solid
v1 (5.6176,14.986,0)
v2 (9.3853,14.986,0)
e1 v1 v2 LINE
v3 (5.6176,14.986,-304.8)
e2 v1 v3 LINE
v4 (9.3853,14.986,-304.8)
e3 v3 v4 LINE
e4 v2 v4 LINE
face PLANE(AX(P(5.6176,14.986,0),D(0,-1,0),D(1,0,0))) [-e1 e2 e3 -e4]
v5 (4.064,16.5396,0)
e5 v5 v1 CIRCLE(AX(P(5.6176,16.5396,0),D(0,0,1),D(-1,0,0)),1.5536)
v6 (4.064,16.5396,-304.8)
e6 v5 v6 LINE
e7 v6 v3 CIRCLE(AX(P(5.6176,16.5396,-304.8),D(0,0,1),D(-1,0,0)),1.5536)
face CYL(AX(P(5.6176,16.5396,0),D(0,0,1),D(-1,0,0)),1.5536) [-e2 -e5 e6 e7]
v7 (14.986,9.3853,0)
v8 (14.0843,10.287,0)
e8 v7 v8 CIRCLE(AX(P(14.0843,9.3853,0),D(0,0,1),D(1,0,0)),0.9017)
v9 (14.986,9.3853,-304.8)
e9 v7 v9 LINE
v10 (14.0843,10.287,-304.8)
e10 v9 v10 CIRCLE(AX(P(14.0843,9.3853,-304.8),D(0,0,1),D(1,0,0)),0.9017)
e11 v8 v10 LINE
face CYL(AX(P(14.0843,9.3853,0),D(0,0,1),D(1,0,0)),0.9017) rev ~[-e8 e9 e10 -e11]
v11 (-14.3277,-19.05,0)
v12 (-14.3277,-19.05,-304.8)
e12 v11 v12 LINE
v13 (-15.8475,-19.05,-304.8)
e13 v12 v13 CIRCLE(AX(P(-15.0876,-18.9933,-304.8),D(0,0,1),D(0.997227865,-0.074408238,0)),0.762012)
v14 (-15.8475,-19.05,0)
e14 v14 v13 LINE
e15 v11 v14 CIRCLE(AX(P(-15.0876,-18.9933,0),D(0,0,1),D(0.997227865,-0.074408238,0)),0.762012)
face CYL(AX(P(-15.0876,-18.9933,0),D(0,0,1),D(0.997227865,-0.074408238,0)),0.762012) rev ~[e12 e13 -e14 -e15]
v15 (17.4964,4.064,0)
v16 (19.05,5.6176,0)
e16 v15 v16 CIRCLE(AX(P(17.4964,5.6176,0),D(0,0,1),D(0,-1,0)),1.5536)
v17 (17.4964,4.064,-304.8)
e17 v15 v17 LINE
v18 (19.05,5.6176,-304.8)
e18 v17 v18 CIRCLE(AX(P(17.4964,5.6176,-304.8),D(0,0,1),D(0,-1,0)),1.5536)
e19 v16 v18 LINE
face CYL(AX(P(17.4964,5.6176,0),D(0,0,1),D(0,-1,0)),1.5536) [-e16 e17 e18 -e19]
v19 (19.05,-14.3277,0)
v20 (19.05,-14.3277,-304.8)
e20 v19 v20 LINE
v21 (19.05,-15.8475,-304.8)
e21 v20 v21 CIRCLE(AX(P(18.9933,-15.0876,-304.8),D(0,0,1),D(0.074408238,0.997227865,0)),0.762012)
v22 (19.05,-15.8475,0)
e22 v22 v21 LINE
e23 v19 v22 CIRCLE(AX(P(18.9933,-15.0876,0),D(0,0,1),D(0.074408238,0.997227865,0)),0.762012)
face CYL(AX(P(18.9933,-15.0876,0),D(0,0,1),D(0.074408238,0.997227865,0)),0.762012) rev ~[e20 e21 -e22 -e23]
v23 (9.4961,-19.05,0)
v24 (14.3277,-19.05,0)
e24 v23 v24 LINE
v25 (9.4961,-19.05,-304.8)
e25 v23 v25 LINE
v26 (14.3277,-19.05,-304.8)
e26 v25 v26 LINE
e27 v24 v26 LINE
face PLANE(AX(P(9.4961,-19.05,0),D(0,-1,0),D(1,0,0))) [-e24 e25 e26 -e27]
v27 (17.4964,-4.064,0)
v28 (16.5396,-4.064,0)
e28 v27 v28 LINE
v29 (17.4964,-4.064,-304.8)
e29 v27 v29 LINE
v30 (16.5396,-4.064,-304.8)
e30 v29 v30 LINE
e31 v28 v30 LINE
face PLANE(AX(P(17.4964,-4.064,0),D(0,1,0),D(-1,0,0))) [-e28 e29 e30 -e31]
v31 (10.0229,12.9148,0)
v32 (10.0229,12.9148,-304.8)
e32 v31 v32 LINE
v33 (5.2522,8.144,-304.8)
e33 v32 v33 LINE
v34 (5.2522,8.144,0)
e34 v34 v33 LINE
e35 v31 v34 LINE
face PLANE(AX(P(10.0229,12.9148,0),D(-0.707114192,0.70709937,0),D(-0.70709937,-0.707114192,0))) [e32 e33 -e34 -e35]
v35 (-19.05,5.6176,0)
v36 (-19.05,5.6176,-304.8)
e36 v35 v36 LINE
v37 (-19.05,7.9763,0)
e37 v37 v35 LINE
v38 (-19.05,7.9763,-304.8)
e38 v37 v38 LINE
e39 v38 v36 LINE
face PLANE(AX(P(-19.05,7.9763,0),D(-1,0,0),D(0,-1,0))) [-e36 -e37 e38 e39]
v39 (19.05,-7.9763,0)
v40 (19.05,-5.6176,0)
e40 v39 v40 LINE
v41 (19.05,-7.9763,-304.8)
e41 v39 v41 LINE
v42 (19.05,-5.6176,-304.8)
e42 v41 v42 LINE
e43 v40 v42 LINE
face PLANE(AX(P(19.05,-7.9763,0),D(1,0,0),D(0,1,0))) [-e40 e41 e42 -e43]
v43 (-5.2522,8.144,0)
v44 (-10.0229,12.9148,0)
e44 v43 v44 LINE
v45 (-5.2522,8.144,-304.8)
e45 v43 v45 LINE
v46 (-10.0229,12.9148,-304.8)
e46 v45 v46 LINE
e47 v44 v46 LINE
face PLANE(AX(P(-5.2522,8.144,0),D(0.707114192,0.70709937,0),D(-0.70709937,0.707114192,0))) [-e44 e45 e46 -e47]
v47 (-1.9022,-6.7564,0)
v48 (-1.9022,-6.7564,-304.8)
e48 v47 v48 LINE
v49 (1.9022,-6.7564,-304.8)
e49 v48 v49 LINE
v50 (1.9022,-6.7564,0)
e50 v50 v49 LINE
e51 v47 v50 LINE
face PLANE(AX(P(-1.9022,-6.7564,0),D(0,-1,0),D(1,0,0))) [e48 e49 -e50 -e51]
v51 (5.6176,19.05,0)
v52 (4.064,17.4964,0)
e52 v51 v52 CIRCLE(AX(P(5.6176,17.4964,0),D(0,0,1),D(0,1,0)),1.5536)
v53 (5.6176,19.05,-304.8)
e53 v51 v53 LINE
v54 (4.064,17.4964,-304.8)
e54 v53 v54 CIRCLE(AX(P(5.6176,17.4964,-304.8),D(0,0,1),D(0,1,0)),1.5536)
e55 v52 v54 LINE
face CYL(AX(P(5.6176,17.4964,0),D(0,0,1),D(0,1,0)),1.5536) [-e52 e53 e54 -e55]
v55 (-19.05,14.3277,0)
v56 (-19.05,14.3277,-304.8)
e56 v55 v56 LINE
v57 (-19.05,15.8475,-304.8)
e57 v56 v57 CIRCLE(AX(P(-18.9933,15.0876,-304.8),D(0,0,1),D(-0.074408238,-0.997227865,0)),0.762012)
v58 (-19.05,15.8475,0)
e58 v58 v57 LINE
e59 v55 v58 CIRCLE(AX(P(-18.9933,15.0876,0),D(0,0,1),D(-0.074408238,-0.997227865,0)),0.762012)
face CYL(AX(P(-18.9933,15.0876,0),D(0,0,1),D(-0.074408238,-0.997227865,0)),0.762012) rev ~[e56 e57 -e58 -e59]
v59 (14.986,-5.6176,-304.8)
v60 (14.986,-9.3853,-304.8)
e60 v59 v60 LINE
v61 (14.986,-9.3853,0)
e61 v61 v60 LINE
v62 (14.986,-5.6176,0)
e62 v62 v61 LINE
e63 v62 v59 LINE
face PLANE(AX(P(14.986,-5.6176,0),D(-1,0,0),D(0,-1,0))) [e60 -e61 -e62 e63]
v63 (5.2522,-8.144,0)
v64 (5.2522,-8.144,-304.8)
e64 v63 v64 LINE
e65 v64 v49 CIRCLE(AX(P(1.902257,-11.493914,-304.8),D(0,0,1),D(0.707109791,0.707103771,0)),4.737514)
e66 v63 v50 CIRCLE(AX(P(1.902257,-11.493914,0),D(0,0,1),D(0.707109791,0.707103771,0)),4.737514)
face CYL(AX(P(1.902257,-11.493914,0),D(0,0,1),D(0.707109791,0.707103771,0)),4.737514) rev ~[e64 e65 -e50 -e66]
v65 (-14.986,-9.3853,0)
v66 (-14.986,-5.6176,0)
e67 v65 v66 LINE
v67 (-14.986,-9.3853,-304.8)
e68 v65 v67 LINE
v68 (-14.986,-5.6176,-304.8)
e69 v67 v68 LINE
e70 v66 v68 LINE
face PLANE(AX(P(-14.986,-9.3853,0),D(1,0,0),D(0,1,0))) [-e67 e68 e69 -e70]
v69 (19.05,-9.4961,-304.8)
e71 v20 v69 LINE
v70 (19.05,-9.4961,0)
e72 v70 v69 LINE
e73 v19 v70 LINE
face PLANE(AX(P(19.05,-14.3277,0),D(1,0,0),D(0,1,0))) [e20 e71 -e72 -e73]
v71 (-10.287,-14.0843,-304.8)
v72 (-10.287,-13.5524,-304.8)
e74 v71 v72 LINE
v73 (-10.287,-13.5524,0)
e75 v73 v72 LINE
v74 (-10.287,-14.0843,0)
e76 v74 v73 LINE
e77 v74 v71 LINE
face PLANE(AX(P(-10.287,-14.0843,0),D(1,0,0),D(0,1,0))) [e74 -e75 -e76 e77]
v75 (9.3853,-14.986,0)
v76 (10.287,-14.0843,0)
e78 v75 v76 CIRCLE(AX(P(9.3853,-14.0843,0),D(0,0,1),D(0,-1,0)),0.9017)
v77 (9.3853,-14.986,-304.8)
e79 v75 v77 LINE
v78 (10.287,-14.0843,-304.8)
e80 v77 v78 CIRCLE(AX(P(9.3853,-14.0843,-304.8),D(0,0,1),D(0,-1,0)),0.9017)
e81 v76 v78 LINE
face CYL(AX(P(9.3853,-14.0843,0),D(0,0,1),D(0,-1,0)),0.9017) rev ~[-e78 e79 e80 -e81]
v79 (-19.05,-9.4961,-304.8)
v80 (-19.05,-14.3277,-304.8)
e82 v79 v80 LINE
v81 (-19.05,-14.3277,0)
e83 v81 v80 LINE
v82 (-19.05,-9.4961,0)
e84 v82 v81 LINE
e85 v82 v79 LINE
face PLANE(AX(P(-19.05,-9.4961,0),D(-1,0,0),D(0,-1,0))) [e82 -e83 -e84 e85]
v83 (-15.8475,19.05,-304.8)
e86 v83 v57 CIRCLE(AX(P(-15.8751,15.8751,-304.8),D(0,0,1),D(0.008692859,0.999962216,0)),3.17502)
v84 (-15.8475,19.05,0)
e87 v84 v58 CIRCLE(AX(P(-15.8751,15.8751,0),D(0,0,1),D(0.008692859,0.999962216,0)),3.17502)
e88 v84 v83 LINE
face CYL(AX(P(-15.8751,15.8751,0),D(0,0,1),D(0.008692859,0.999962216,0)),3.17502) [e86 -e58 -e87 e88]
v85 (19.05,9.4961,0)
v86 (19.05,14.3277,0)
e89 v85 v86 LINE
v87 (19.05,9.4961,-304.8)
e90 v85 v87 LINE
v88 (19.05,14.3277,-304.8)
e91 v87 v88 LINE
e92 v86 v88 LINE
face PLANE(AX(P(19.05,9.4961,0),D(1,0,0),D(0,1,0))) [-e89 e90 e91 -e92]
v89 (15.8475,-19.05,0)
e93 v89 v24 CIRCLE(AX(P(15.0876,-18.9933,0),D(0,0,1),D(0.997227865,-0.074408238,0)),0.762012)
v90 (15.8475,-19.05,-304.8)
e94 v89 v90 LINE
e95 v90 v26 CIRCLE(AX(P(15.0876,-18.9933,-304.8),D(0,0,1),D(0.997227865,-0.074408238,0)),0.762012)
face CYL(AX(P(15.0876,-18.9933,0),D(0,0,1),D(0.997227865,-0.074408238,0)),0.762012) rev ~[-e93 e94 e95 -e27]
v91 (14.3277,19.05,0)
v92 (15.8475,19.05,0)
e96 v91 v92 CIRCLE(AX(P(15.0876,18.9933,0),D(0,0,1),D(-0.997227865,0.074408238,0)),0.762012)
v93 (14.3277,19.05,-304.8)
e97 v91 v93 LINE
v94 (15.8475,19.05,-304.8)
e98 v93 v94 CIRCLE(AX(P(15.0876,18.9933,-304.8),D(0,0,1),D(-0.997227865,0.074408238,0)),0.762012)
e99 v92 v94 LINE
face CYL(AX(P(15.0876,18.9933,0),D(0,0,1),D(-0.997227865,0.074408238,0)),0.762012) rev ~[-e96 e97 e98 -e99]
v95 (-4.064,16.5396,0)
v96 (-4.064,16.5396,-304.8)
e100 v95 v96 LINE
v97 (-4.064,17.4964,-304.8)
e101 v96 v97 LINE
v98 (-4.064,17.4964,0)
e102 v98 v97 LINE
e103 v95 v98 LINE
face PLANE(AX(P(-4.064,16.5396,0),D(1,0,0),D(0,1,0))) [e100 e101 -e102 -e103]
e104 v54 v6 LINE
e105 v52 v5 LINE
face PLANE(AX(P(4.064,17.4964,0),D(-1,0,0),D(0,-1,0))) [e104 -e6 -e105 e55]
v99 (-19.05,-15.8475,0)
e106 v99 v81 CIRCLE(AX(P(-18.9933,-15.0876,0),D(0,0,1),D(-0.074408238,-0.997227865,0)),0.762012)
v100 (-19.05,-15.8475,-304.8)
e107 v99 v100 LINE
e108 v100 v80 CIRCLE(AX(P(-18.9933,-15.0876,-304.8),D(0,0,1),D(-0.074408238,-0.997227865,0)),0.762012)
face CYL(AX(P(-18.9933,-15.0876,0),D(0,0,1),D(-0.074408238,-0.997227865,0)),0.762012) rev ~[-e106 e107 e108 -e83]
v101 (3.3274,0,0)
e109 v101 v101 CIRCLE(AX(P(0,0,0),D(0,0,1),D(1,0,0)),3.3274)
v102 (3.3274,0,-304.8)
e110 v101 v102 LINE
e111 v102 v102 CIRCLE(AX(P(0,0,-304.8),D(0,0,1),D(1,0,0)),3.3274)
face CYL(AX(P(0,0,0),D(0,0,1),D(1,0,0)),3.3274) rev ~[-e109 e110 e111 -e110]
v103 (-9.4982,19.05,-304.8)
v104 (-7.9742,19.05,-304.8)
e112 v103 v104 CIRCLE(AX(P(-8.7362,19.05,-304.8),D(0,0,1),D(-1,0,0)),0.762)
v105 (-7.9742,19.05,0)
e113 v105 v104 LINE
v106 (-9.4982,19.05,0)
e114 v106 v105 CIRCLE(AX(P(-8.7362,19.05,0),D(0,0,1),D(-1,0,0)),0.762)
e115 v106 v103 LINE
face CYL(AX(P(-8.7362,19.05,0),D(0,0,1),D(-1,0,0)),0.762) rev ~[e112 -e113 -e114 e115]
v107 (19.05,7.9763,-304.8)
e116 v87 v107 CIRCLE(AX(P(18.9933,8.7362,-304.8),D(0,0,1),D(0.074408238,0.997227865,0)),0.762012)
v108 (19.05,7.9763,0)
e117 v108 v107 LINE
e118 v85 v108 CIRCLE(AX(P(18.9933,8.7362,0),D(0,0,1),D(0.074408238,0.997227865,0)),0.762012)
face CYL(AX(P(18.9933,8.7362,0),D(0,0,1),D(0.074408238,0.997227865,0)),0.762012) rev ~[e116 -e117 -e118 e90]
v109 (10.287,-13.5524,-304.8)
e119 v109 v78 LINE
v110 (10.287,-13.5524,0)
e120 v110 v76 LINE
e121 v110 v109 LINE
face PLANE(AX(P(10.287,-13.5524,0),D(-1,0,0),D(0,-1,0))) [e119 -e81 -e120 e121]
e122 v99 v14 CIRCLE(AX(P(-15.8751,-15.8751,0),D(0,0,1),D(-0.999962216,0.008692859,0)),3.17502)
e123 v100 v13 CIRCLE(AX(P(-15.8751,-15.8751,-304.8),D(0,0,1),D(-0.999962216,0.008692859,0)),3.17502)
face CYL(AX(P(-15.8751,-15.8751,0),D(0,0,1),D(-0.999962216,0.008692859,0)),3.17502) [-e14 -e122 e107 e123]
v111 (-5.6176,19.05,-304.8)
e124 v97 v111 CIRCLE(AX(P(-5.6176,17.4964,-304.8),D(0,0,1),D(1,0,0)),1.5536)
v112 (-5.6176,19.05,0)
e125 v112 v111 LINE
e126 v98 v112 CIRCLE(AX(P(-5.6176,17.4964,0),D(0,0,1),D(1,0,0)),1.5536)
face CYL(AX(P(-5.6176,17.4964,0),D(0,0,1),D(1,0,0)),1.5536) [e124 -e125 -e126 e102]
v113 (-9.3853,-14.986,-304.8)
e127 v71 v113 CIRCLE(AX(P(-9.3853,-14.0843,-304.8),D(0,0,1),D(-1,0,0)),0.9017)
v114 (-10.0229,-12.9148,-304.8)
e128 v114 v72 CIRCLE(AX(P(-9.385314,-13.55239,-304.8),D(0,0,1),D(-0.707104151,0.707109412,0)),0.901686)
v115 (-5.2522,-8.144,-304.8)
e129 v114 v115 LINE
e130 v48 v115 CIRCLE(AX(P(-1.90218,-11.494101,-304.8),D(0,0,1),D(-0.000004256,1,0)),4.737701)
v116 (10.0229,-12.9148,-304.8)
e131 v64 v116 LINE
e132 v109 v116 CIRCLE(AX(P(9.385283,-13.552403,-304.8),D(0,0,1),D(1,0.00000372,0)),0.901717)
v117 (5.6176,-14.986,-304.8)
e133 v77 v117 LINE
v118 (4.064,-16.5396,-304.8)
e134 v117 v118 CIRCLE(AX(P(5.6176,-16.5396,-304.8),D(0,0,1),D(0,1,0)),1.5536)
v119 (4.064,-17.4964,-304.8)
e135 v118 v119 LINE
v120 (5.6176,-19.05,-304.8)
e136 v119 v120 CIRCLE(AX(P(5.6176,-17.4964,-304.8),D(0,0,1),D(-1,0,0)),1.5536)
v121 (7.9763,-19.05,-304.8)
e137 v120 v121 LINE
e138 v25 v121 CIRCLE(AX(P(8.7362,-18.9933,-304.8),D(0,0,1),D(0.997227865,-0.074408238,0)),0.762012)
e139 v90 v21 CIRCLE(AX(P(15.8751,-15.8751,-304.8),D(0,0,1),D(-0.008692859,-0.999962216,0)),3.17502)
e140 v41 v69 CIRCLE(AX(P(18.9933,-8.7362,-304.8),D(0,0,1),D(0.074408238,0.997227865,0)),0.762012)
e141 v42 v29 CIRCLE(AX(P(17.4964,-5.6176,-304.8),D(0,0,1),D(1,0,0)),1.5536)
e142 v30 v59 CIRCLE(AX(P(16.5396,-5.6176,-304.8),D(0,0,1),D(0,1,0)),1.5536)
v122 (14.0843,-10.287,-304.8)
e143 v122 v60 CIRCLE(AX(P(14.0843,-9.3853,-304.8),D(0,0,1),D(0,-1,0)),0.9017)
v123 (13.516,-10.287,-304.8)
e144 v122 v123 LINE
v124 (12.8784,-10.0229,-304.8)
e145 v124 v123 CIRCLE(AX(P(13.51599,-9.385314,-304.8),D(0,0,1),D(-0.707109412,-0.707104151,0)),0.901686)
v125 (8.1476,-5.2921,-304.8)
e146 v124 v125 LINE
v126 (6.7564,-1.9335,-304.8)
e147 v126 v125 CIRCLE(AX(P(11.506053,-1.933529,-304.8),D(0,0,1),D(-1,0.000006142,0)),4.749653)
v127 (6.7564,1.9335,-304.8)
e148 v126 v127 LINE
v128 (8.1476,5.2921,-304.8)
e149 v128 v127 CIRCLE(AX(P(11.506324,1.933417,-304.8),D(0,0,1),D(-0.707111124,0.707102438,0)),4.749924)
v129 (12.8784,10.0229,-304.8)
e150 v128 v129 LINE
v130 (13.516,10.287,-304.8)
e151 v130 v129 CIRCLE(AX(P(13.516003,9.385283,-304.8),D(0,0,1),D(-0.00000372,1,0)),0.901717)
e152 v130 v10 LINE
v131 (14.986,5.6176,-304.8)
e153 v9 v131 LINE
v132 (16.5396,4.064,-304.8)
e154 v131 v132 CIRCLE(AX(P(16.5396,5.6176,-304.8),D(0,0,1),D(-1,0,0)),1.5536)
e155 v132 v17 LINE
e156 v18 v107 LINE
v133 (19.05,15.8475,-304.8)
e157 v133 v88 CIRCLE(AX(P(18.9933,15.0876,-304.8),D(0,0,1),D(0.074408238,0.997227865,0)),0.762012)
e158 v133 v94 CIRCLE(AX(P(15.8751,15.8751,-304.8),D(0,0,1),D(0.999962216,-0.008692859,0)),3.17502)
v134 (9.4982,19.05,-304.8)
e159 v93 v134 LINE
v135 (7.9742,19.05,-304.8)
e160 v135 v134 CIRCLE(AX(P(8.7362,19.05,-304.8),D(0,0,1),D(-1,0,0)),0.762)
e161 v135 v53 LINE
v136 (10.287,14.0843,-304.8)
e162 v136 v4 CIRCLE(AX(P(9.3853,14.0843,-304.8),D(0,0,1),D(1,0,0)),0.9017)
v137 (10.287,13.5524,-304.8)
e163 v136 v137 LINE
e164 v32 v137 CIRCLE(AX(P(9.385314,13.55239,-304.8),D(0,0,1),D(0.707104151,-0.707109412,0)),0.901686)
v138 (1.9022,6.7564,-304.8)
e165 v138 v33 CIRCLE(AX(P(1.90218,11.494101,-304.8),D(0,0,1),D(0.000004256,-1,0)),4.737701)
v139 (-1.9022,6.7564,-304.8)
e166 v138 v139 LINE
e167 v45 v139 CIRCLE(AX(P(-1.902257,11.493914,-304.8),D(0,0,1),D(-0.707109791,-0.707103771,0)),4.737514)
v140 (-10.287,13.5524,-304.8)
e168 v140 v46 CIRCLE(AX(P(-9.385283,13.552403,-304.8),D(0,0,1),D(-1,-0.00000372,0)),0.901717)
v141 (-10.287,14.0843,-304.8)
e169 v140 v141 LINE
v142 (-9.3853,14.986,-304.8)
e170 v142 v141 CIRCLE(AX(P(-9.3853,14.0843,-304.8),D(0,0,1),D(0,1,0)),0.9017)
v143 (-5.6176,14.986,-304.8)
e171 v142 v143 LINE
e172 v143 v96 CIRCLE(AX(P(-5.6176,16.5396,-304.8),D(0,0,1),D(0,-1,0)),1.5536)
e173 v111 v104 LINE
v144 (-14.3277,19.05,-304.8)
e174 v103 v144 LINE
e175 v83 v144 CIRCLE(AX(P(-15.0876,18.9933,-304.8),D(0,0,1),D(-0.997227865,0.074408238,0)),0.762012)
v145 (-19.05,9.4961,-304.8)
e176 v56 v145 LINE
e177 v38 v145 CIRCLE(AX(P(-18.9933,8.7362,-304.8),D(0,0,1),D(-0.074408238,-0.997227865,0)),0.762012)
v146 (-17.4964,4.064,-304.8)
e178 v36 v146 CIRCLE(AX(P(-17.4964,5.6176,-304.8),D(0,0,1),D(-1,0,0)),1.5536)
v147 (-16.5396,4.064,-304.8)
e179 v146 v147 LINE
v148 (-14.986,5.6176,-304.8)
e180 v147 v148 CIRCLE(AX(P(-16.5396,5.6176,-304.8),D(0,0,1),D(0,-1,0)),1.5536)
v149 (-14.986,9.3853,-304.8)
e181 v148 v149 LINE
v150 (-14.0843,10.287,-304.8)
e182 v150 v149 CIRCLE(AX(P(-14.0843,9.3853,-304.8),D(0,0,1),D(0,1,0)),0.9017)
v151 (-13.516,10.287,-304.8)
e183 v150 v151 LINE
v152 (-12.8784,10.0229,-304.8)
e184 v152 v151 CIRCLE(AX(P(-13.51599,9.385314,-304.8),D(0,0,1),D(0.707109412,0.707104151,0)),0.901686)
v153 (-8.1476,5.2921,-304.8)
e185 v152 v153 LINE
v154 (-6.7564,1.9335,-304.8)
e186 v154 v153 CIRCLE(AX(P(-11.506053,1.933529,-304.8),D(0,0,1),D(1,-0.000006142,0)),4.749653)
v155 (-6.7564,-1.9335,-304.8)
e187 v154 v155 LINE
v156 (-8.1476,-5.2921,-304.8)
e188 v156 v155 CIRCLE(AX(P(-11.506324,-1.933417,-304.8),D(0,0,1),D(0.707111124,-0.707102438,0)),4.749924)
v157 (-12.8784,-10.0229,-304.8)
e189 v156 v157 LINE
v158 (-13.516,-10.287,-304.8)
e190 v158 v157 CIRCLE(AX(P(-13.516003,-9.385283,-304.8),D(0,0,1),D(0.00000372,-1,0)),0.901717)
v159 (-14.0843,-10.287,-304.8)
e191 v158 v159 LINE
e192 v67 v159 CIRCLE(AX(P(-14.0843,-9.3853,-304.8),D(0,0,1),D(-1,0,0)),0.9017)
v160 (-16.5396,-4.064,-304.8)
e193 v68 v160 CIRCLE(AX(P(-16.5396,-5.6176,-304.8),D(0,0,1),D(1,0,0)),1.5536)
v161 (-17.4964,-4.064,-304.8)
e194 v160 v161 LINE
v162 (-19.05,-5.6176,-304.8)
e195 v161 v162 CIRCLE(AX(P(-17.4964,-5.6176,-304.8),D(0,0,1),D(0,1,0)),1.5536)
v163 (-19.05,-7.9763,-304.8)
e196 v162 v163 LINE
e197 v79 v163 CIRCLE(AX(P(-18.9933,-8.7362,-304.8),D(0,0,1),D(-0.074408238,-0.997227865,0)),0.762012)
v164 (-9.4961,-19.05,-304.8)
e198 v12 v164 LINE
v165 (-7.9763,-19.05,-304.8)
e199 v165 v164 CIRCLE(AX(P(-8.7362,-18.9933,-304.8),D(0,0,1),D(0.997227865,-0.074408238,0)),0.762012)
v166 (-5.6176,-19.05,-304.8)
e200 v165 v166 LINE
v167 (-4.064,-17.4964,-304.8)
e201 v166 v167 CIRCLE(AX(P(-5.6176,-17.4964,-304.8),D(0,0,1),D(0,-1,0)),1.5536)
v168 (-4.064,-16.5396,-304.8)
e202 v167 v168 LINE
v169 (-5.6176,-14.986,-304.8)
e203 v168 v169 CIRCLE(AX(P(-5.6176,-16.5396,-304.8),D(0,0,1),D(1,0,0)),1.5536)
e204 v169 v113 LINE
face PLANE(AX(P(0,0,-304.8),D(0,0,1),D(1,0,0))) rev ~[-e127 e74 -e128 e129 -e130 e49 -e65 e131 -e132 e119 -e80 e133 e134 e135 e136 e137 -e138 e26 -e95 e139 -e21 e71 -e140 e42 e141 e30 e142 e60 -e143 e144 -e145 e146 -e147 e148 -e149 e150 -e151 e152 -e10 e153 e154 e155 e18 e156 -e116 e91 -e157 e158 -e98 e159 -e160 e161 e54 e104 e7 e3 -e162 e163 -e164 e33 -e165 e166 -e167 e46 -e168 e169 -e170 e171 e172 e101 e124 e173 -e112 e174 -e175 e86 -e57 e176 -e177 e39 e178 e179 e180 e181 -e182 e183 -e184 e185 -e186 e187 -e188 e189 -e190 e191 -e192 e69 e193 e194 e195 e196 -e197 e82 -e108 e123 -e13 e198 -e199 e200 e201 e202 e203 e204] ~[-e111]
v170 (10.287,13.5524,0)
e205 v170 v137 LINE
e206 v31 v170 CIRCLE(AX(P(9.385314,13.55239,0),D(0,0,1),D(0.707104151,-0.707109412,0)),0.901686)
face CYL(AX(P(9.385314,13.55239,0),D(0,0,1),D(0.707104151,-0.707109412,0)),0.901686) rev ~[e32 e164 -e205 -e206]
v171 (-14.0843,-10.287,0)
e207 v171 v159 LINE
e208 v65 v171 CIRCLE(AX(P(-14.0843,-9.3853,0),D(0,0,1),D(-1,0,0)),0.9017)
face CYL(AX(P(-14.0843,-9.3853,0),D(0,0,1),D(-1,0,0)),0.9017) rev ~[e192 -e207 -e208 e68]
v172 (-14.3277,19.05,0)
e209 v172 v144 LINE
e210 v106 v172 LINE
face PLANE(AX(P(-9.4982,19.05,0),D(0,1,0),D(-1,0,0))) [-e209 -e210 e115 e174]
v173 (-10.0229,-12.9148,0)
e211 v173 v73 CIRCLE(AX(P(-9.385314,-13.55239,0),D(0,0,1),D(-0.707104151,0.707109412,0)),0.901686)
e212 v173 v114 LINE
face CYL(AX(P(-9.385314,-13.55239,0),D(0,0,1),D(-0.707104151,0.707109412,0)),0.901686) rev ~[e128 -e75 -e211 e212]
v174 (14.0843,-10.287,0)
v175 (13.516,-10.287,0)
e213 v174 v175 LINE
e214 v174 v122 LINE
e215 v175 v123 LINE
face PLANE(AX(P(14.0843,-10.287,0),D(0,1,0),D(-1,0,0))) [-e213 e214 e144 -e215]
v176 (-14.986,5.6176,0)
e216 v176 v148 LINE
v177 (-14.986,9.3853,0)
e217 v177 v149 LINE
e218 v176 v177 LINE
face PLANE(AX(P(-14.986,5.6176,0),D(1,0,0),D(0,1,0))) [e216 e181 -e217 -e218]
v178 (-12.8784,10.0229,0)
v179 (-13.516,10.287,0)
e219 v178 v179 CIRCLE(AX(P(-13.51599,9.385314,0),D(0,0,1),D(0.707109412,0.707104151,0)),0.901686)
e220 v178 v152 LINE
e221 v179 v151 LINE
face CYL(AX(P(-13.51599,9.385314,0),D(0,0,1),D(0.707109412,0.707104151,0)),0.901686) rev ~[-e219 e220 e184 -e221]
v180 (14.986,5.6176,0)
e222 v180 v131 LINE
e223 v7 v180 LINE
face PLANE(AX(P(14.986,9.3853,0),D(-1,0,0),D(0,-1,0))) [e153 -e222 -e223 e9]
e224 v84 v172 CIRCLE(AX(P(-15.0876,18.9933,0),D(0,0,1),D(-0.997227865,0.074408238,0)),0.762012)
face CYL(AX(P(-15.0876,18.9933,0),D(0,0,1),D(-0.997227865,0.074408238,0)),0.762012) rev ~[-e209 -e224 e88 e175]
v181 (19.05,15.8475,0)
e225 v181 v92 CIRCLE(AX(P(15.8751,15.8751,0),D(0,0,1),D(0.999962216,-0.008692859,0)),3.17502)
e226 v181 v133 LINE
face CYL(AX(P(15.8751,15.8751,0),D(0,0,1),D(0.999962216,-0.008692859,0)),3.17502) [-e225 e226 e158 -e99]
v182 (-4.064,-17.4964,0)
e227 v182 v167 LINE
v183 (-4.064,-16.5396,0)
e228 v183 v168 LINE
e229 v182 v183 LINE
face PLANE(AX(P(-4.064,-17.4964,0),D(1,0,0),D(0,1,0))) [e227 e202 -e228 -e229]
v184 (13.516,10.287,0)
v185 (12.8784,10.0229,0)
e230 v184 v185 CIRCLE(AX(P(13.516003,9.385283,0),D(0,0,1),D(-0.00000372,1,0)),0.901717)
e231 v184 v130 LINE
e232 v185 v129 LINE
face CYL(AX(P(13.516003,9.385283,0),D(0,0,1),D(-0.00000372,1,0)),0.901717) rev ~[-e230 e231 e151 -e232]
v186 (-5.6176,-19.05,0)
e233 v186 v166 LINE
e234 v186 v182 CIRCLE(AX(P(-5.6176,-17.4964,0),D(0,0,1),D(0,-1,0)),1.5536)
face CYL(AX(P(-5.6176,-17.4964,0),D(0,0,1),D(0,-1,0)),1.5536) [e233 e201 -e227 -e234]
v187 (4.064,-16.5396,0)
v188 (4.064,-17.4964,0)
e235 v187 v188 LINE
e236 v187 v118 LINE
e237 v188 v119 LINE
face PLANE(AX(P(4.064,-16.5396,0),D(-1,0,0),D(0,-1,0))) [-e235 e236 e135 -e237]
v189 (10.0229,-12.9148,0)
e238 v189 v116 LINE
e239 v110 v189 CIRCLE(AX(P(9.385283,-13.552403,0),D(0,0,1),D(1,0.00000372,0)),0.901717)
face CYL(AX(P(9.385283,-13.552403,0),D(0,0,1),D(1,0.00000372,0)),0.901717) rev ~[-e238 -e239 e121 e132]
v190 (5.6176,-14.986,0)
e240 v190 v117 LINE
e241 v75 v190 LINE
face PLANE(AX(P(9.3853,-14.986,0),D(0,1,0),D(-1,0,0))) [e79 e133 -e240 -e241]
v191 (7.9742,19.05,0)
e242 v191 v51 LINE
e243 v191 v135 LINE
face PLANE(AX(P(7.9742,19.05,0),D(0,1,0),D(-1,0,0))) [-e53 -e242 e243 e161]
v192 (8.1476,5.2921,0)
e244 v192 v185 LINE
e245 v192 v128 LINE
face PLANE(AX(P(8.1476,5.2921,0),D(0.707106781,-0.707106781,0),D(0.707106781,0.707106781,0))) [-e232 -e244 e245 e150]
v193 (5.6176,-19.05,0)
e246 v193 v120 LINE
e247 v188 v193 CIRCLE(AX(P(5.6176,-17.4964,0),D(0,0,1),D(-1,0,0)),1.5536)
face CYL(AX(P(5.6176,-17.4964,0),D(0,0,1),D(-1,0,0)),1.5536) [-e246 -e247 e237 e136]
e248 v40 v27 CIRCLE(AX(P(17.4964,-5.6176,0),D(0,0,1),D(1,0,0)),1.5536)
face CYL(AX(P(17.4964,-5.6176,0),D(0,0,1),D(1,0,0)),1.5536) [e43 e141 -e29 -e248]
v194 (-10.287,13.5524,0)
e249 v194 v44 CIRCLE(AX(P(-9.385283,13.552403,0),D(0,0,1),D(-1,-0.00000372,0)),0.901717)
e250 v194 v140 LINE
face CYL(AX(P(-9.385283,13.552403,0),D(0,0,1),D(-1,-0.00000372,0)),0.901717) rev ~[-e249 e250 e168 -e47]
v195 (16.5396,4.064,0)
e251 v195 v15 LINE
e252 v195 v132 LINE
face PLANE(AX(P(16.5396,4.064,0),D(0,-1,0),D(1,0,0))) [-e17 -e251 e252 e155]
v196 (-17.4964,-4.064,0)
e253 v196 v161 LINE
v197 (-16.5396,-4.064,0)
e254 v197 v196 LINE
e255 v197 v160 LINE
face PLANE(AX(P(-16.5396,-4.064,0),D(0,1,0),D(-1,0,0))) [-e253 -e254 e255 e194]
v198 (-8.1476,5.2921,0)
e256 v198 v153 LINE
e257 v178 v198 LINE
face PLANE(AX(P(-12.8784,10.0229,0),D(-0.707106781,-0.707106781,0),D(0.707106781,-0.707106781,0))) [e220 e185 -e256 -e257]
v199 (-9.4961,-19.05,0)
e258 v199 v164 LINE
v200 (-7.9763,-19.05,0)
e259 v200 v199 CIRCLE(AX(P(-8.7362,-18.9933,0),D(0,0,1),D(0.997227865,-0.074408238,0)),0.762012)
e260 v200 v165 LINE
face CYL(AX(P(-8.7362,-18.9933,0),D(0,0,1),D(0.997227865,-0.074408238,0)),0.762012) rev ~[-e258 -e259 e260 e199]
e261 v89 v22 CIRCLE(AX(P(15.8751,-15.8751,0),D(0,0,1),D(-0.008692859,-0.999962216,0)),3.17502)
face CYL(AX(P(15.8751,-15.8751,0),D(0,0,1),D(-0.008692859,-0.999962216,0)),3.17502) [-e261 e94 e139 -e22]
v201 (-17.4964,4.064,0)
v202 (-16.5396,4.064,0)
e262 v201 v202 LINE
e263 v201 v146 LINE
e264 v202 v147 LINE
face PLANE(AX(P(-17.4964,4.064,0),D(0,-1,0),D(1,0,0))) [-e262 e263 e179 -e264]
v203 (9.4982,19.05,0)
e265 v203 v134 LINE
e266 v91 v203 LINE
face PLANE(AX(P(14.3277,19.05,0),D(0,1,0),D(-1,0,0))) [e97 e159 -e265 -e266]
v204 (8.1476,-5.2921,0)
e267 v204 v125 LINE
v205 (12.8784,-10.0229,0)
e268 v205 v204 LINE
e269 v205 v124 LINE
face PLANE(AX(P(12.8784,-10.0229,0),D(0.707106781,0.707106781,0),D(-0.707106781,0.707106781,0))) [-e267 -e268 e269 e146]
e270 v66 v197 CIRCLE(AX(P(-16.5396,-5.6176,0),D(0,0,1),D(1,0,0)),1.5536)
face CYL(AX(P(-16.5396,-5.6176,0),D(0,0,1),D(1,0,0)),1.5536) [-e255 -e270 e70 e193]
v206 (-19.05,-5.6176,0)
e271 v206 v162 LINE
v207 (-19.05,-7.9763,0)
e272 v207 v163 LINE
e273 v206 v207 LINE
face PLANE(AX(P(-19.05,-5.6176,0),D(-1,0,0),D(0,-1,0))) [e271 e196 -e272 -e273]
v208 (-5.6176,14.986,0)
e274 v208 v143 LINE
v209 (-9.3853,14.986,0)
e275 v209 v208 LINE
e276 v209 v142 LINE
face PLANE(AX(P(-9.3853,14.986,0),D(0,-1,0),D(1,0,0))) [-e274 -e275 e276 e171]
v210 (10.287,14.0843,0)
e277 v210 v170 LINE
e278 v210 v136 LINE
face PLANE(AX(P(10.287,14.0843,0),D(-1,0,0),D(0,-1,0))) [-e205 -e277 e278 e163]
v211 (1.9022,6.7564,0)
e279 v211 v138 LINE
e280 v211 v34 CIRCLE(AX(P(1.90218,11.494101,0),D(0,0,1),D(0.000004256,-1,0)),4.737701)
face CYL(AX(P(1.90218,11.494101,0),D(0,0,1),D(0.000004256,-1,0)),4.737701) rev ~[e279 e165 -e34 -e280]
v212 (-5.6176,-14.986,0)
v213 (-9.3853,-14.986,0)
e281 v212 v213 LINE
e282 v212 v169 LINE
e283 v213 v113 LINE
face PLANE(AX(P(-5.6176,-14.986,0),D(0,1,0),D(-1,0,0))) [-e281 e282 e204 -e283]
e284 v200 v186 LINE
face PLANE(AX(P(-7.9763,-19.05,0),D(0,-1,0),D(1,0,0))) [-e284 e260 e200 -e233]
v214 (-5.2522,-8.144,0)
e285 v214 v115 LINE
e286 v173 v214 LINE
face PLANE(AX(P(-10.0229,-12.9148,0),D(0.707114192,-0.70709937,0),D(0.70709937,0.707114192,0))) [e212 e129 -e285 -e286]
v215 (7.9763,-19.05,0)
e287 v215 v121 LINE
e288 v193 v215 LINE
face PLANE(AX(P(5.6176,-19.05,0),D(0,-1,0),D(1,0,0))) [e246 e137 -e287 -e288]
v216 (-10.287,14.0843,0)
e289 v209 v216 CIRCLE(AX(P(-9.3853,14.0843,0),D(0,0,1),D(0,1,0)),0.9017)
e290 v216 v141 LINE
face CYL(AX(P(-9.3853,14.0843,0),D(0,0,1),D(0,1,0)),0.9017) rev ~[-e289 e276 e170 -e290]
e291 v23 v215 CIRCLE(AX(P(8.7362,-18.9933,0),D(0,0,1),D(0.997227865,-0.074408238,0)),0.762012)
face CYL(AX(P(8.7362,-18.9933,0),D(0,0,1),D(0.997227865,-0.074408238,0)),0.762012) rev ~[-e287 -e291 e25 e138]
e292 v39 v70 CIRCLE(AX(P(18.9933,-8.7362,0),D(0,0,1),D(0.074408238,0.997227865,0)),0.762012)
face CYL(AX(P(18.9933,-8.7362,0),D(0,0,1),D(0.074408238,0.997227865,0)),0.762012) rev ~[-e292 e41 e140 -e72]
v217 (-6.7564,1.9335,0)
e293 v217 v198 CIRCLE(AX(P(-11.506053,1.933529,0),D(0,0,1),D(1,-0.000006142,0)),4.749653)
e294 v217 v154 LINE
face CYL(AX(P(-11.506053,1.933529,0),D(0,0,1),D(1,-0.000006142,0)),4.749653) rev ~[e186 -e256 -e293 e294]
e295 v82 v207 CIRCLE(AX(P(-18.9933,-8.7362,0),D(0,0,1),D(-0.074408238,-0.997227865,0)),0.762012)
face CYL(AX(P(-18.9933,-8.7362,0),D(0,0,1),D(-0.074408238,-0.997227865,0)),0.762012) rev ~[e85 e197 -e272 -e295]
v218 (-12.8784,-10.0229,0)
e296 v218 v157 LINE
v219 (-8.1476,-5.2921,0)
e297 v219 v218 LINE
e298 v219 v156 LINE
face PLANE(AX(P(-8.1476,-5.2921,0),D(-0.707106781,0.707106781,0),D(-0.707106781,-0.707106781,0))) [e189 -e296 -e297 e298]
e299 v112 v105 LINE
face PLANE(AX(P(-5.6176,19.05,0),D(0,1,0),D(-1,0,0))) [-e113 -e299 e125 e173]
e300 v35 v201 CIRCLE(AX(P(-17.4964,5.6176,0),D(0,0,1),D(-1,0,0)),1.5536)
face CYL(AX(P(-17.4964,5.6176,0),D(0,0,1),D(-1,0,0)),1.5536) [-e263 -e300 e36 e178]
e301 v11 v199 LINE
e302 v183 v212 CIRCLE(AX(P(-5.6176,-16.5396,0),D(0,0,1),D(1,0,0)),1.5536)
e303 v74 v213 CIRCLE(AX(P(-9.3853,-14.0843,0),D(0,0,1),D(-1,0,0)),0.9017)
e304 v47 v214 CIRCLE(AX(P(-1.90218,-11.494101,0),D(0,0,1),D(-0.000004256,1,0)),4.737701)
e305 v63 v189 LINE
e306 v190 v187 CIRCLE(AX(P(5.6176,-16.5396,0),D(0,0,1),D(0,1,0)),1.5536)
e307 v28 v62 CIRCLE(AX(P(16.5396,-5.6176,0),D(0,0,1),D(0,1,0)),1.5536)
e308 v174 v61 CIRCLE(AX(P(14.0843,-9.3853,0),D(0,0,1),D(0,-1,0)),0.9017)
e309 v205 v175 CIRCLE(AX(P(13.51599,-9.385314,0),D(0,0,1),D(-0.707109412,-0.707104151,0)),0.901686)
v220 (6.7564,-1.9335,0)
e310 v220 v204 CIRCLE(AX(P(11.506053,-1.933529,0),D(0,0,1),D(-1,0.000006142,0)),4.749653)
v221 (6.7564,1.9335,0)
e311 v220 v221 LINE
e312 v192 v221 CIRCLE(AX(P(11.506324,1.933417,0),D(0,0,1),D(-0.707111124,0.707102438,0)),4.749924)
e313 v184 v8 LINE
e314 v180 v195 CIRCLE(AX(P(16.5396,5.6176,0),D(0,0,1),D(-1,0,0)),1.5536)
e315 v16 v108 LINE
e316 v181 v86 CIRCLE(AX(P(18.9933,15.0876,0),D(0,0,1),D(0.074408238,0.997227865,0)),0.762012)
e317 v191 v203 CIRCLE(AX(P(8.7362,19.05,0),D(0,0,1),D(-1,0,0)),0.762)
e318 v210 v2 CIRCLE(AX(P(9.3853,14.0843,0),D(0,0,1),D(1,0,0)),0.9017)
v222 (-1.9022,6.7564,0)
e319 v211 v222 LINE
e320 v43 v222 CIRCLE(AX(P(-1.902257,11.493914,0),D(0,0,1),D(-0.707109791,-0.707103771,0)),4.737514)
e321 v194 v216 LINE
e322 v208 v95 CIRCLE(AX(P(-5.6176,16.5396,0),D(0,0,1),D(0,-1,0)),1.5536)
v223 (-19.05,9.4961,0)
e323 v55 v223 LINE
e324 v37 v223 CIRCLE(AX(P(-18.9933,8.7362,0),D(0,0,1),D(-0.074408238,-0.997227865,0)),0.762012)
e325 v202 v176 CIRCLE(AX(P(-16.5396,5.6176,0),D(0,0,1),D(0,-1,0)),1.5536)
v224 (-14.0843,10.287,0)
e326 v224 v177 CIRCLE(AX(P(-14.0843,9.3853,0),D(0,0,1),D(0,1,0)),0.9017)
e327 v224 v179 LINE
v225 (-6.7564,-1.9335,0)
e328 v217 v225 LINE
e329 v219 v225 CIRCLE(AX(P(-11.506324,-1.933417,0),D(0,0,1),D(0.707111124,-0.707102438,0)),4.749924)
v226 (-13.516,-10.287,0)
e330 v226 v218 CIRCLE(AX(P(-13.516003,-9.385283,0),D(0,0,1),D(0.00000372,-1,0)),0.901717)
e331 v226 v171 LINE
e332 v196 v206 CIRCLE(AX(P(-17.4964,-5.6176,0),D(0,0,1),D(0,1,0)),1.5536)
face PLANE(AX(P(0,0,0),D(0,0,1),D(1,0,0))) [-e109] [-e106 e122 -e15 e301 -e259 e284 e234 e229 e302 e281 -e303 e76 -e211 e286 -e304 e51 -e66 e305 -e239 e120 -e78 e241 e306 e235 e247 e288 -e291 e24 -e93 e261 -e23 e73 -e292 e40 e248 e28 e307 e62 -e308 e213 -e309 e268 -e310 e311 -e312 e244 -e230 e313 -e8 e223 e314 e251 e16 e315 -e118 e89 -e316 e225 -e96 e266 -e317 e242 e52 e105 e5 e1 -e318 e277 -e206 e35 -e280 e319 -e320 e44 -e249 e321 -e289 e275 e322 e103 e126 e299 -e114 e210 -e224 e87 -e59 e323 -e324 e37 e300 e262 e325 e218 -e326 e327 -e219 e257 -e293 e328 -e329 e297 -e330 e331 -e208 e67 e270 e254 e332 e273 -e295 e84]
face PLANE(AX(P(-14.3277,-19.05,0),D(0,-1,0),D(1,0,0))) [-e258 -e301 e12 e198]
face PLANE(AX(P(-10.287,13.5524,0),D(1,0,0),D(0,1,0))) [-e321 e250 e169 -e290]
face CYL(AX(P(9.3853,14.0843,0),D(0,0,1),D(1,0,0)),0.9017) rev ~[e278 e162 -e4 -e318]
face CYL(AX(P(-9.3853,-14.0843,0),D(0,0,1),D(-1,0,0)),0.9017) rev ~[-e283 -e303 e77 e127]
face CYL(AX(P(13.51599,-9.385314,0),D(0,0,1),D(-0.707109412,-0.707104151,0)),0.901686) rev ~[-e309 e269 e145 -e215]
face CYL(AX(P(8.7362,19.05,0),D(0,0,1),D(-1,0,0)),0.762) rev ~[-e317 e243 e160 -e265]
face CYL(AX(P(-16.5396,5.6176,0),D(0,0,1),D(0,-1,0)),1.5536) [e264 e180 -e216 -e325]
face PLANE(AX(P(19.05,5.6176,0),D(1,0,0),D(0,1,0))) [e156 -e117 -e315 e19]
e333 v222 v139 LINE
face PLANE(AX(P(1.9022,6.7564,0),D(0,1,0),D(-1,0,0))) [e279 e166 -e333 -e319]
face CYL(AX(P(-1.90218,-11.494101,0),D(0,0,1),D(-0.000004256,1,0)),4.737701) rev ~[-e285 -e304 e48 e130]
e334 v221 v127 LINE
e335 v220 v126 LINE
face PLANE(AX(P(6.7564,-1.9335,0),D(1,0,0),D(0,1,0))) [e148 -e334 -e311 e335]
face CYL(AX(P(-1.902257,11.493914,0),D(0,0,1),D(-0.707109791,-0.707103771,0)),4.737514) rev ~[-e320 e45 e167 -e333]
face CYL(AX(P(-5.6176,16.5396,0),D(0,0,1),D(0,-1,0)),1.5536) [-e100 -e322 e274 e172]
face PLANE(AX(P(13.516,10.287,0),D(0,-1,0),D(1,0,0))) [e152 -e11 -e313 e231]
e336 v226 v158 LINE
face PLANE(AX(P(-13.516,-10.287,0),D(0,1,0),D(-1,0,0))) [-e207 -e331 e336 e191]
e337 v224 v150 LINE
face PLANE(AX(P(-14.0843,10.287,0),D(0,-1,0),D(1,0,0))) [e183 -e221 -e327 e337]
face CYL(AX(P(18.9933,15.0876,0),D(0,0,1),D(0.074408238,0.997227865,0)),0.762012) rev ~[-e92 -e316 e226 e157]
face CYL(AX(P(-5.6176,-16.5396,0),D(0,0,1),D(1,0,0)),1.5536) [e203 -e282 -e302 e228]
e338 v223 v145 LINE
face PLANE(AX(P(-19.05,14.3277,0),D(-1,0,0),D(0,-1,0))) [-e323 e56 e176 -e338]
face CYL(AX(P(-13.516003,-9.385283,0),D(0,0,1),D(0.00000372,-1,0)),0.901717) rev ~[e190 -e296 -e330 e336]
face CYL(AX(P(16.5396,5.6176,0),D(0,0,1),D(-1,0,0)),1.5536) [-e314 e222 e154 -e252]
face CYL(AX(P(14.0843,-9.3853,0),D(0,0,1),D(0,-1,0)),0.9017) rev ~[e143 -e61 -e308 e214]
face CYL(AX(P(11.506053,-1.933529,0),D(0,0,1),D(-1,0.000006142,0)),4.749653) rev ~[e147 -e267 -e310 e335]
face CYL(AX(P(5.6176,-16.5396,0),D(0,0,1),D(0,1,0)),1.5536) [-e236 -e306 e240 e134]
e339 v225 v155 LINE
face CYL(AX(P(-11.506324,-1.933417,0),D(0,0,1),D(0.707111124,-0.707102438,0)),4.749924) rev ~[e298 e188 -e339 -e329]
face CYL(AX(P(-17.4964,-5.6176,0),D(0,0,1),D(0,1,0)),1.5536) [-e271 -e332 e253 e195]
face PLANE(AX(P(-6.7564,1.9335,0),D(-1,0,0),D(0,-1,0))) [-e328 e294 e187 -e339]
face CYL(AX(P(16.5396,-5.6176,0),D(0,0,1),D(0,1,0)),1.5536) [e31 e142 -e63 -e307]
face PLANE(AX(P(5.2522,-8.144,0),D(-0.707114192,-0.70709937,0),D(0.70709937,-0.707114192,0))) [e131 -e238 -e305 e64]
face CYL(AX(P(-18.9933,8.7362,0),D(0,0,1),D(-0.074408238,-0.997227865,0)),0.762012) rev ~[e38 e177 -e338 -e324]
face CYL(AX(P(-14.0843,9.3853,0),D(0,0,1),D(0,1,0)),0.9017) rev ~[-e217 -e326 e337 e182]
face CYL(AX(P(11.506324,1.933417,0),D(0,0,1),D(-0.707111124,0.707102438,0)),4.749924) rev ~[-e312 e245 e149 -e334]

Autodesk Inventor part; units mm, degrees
ref_plane "YZ Plane" through (0, 0, 0) normal (1, 0, 0) x (0, 1, 0)
ref_plane "XZ Plane" through (0, 0, 0) normal (0, 1, 0) x (-1, 0, 0)
ref_plane "XY Plane" through (0, 0, 0) normal (0, 0, 1) x (1, 0, 0)
sketch "Sketch1" plane through (0, 0, 0) normal (0, 0, 1) x (1, 0, 0)
  circle A0 centre (0, 0) radius 3.3274
  arc A1 (-10.287, 13.5524) -> (-10.0229, 12.9148) centre (-9.3853, 13.5524) ccw
  line L0 (-10.287, 13.5524) -> (-10.287, 14.0843)
  arc A2 (-9.3853, 14.986) -> (-10.287, 14.0843) centre (-9.3853, 14.0843) ccw
  line L1 (-9.3853, 14.986) -> (-5.6176, 14.986)
  arc A3 (-5.6176, 14.986) -> (-4.064, 16.5396) centre (-5.6176, 16.5396) ccw
  line L2 (-4.064, 16.5396) -> (-4.064, 17.4964)
  arc A4 (-4.064, 17.4964) -> (-5.6176, 19.05) centre (-5.6176, 17.4964) ccw
  line L3 (-5.6176, 19.05) -> (-7.9742, 19.05)
  arc A5 (-9.4982, 19.05) -> (-7.9742, 19.05) centre (-8.7362, 19.05) ccw
  line L4 (-9.4982, 19.05) -> (-14.3277, 19.05)
  arc A6 (-15.8475, 19.05) -> (-14.3277, 19.05) centre (-15.0876, 18.9933) ccw
  arc A7 (-15.8475, 19.05) -> (-19.05, 15.8475) centre (-15.8751, 15.8751) ccw
  arc A8 (-19.05, 14.3277) -> (-19.05, 15.8475) centre (-18.9933, 15.0876) ccw
  line L5 (-19.05, 14.3277) -> (-19.05, 9.4961)
  arc A9 (-19.05, 7.9763) -> (-19.05, 9.4961) centre (-18.9933, 8.7362) ccw
  line L6 (-19.05, 7.9763) -> (-19.05, 5.6176)
  arc A10 (-19.05, 5.6176) -> (-17.4964, 4.064) centre (-17.4964, 5.6176) ccw
  line L7 (-17.4964, 4.064) -> (-16.5396, 4.064)
  arc A11 (-16.5396, 4.064) -> (-14.986, 5.6176) centre (-16.5396, 5.6176) ccw
  line L8 (-14.986, 5.6176) -> (-14.986, 9.3853)
  arc A12 (-14.0843, 10.287) -> (-14.986, 9.3853) centre (-14.0843, 9.3853) ccw
  line L9 (-14.0843, 10.287) -> (-13.516, 10.287)
  arc A13 (-12.8784, 10.0229) -> (-13.516, 10.287) centre (-13.516, 9.3853) ccw
  line L10 (-12.8784, 10.0229) -> (-8.1476, 5.2921)
  arc A14 (-6.7564, 1.9335) -> (-8.1476, 5.2921) centre (-11.5062, 1.9335) ccw
  line L11 (-6.7564, 1.9335) -> (-6.7564, -1.9335)
  arc A15 (-8.1476, -5.2921) -> (-6.7564, -1.9335) centre (-11.5062, -1.9335) ccw
  line L12 (-8.1476, -5.2921) -> (-12.8784, -10.0229)
  arc A16 (-13.516, -10.287) -> (-12.8784, -10.0229) centre (-13.516, -9.3853) ccw
  line L13 (-13.516, -10.287) -> (-14.0843, -10.287)
  arc A17 (-14.986, -9.3853) -> (-14.0843, -10.287) centre (-14.0843, -9.3853) ccw
  line L14 (-14.986, -9.3853) -> (-14.986, -5.6176)
  arc A18 (-14.986, -5.6176) -> (-16.5396, -4.064) centre (-16.5396, -5.6176) ccw
  line L15 (-16.5396, -4.064) -> (-17.4964, -4.064)
  arc A19 (-17.4964, -4.064) -> (-19.05, -5.6176) centre (-17.4964, -5.6176) ccw
  line L16 (-19.05, -5.6176) -> (-19.05, -7.9763)
  arc A20 (-19.05, -9.4961) -> (-19.05, -7.9763) centre (-18.9933, -8.7362) ccw
  line L17 (-19.05, -9.4961) -> (-19.05, -14.3277)
  arc A21 (-19.05, -15.8475) -> (-19.05, -14.3277) centre (-18.9933, -15.0876) ccw
  arc A22 (-19.05, -15.8475) -> (-15.8475, -19.05) centre (-15.8751, -15.8751) ccw
  arc A23 (-14.3277, -19.05) -> (-15.8475, -19.05) centre (-15.0876, -18.9933) ccw
  line L18 (-14.3277, -19.05) -> (-9.4961, -19.05)
  arc A24 (-7.9763, -19.05) -> (-9.4961, -19.05) centre (-8.7362, -18.9933) ccw
  line L19 (-7.9763, -19.05) -> (-5.6176, -19.05)
  arc A25 (-5.6176, -19.05) -> (-4.064, -17.4964) centre (-5.6176, -17.4964) ccw
  line L20 (-4.064, -17.4964) -> (-4.064, -16.5396)
  arc A26 (-4.064, -16.5396) -> (-5.6176, -14.986) centre (-5.6176, -16.5396) ccw
  line L21 (-5.6176, -14.986) -> (-9.3853, -14.986)
  arc A27 (-10.287, -14.0843) -> (-9.3853, -14.986) centre (-9.3853, -14.0843) ccw
  line L22 (-10.287, -14.0843) -> (-10.287, -13.5524)
  arc A28 (-10.0229, -12.9148) -> (-10.287, -13.5524) centre (-9.3853, -13.5524) ccw
  line L23 (-10.0229, -12.9148) -> (-5.2522, -8.144)
  arc A29 (-1.9022, -6.7564) -> (-5.2522, -8.144) centre (-1.9022, -11.494) ccw
  line L24 (-1.9022, -6.7564) -> (1.9022, -6.7564)
  arc A30 (5.2522, -8.144) -> (1.9022, -6.7564) centre (1.9022, -11.494) ccw
  line L25 (5.2522, -8.144) -> (10.0229, -12.9148)
  arc A31 (10.287, -13.5524) -> (10.0229, -12.9148) centre (9.3853, -13.5524) ccw
  line L26 (10.287, -13.5524) -> (10.287, -14.0843)
  arc A32 (9.3853, -14.986) -> (10.287, -14.0843) centre (9.3853, -14.0843) ccw
  line L27 (9.3853, -14.986) -> (5.6176, -14.986)
  arc A33 (5.6176, -14.986) -> (4.064, -16.5396) centre (5.6176, -16.5396) ccw
  line L28 (4.064, -16.5396) -> (4.064, -17.4964)
  arc A34 (4.064, -17.4964) -> (5.6176, -19.05) centre (5.6176, -17.4964) ccw
  line L29 (5.6176, -19.05) -> (7.9763, -19.05)
  arc A35 (9.4961, -19.05) -> (7.9763, -19.05) centre (8.7362, -18.9933) ccw
  line L30 (9.4961, -19.05) -> (14.3277, -19.05)
  arc A36 (15.8475, -19.05) -> (14.3277, -19.05) centre (15.0876, -18.9933) ccw
  arc A37 (15.8475, -19.05) -> (19.05, -15.8475) centre (15.8751, -15.8751) ccw
  arc A38 (19.05, -14.3277) -> (19.05, -15.8475) centre (18.9933, -15.0876) ccw
  line L31 (19.05, -14.3277) -> (19.05, -9.4961)
  arc A39 (19.05, -7.9763) -> (19.05, -9.4961) centre (18.9933, -8.7362) ccw
  line L32 (19.05, -7.9763) -> (19.05, -5.6176)
  arc A40 (19.05, -5.6176) -> (17.4964, -4.064) centre (17.4964, -5.6176) ccw
  line L33 (17.4964, -4.064) -> (16.5396, -4.064)
  arc A41 (16.5396, -4.064) -> (14.986, -5.6176) centre (16.5396, -5.6176) ccw
  line L34 (14.986, -5.6176) -> (14.986, -9.3853)
  arc A42 (14.0843, -10.287) -> (14.986, -9.3853) centre (14.0843, -9.3853) ccw
  line L35 (14.0843, -10.287) -> (13.516, -10.287)
  arc A43 (12.8784, -10.0229) -> (13.516, -10.287) centre (13.516, -9.3853) ccw
  line L36 (12.8784, -10.0229) -> (8.1476, -5.2921)
  arc A44 (6.7564, -1.9335) -> (8.1476, -5.2921) centre (11.5062, -1.9335) ccw
  line L37 (6.7564, -1.9335) -> (6.7564, 1.9335)
  arc A45 (8.1476, 5.2921) -> (6.7564, 1.9335) centre (11.5062, 1.9335) ccw
  line L38 (8.1476, 5.2921) -> (12.8784, 10.0229)
  arc A46 (13.516, 10.287) -> (12.8784, 10.0229) centre (13.516, 9.3853) ccw
  line L39 (13.516, 10.287) -> (14.0843, 10.287)
  arc A47 (14.986, 9.3853) -> (14.0843, 10.287) centre (14.0843, 9.3853) ccw
  line L40 (14.986, 9.3853) -> (14.986, 5.6176)
  arc A48 (14.986, 5.6176) -> (16.5396, 4.064) centre (16.5396, 5.6176) ccw
  line L41 (16.5396, 4.064) -> (17.4964, 4.064)
  arc A49 (17.4964, 4.064) -> (19.05, 5.6176) centre (17.4964, 5.6176) ccw
  line L42 (19.05, 5.6176) -> (19.05, 7.9763)
  arc A50 (19.05, 9.4961) -> (19.05, 7.9763) centre (18.9933, 8.7362) ccw
  line L43 (19.05, 9.4961) -> (19.05, 14.3277)
  arc A51 (19.05, 15.8475) -> (19.05, 14.3277) centre (18.9933, 15.0876) ccw
  arc A52 (19.05, 15.8475) -> (15.8475, 19.05) centre (15.8751, 15.8751) ccw
  arc A53 (14.3277, 19.05) -> (15.8475, 19.05) centre (15.0876, 18.9933) ccw
  line L44 (14.3277, 19.05) -> (9.4982, 19.05)
  arc A54 (7.9742, 19.05) -> (9.4982, 19.05) centre (8.7362, 19.05) ccw
  line L45 (7.9742, 19.05) -> (5.6176, 19.05)
  arc A55 (5.6176, 19.05) -> (4.064, 17.4964) centre (5.6176, 17.4964) ccw
  line L46 (4.064, 17.4964) -> (4.064, 16.5396)
  arc A56 (4.064, 16.5396) -> (5.6176, 14.986) centre (5.6176, 16.5396) ccw
  line L47 (5.6176, 14.986) -> (9.3853, 14.986)
  arc A57 (10.287, 14.0843) -> (9.3853, 14.986) centre (9.3853, 14.0843) ccw
  line L48 (10.287, 14.0843) -> (10.287, 13.5524)
  arc A58 (10.0229, 12.9148) -> (10.287, 13.5524) centre (9.3853, 13.5524) ccw
  line L49 (10.0229, 12.9148) -> (5.2522, 8.144)
  arc A59 (1.9022, 6.7564) -> (5.2522, 8.144) centre (1.9022, 11.494) ccw
  line L50 (1.9022, 6.7564) -> (-1.9022, 6.7564)
  arc A60 (-5.2522, 8.144) -> (-1.9022, 6.7564) centre (-1.9022, 11.494) ccw
  line L51 (-5.2522, 8.144) -> (-10.0229, 12.9148)
extrude "Extrusion1" add sketch "Sketch1" against normal blind 304.8
properties part number "1515"
